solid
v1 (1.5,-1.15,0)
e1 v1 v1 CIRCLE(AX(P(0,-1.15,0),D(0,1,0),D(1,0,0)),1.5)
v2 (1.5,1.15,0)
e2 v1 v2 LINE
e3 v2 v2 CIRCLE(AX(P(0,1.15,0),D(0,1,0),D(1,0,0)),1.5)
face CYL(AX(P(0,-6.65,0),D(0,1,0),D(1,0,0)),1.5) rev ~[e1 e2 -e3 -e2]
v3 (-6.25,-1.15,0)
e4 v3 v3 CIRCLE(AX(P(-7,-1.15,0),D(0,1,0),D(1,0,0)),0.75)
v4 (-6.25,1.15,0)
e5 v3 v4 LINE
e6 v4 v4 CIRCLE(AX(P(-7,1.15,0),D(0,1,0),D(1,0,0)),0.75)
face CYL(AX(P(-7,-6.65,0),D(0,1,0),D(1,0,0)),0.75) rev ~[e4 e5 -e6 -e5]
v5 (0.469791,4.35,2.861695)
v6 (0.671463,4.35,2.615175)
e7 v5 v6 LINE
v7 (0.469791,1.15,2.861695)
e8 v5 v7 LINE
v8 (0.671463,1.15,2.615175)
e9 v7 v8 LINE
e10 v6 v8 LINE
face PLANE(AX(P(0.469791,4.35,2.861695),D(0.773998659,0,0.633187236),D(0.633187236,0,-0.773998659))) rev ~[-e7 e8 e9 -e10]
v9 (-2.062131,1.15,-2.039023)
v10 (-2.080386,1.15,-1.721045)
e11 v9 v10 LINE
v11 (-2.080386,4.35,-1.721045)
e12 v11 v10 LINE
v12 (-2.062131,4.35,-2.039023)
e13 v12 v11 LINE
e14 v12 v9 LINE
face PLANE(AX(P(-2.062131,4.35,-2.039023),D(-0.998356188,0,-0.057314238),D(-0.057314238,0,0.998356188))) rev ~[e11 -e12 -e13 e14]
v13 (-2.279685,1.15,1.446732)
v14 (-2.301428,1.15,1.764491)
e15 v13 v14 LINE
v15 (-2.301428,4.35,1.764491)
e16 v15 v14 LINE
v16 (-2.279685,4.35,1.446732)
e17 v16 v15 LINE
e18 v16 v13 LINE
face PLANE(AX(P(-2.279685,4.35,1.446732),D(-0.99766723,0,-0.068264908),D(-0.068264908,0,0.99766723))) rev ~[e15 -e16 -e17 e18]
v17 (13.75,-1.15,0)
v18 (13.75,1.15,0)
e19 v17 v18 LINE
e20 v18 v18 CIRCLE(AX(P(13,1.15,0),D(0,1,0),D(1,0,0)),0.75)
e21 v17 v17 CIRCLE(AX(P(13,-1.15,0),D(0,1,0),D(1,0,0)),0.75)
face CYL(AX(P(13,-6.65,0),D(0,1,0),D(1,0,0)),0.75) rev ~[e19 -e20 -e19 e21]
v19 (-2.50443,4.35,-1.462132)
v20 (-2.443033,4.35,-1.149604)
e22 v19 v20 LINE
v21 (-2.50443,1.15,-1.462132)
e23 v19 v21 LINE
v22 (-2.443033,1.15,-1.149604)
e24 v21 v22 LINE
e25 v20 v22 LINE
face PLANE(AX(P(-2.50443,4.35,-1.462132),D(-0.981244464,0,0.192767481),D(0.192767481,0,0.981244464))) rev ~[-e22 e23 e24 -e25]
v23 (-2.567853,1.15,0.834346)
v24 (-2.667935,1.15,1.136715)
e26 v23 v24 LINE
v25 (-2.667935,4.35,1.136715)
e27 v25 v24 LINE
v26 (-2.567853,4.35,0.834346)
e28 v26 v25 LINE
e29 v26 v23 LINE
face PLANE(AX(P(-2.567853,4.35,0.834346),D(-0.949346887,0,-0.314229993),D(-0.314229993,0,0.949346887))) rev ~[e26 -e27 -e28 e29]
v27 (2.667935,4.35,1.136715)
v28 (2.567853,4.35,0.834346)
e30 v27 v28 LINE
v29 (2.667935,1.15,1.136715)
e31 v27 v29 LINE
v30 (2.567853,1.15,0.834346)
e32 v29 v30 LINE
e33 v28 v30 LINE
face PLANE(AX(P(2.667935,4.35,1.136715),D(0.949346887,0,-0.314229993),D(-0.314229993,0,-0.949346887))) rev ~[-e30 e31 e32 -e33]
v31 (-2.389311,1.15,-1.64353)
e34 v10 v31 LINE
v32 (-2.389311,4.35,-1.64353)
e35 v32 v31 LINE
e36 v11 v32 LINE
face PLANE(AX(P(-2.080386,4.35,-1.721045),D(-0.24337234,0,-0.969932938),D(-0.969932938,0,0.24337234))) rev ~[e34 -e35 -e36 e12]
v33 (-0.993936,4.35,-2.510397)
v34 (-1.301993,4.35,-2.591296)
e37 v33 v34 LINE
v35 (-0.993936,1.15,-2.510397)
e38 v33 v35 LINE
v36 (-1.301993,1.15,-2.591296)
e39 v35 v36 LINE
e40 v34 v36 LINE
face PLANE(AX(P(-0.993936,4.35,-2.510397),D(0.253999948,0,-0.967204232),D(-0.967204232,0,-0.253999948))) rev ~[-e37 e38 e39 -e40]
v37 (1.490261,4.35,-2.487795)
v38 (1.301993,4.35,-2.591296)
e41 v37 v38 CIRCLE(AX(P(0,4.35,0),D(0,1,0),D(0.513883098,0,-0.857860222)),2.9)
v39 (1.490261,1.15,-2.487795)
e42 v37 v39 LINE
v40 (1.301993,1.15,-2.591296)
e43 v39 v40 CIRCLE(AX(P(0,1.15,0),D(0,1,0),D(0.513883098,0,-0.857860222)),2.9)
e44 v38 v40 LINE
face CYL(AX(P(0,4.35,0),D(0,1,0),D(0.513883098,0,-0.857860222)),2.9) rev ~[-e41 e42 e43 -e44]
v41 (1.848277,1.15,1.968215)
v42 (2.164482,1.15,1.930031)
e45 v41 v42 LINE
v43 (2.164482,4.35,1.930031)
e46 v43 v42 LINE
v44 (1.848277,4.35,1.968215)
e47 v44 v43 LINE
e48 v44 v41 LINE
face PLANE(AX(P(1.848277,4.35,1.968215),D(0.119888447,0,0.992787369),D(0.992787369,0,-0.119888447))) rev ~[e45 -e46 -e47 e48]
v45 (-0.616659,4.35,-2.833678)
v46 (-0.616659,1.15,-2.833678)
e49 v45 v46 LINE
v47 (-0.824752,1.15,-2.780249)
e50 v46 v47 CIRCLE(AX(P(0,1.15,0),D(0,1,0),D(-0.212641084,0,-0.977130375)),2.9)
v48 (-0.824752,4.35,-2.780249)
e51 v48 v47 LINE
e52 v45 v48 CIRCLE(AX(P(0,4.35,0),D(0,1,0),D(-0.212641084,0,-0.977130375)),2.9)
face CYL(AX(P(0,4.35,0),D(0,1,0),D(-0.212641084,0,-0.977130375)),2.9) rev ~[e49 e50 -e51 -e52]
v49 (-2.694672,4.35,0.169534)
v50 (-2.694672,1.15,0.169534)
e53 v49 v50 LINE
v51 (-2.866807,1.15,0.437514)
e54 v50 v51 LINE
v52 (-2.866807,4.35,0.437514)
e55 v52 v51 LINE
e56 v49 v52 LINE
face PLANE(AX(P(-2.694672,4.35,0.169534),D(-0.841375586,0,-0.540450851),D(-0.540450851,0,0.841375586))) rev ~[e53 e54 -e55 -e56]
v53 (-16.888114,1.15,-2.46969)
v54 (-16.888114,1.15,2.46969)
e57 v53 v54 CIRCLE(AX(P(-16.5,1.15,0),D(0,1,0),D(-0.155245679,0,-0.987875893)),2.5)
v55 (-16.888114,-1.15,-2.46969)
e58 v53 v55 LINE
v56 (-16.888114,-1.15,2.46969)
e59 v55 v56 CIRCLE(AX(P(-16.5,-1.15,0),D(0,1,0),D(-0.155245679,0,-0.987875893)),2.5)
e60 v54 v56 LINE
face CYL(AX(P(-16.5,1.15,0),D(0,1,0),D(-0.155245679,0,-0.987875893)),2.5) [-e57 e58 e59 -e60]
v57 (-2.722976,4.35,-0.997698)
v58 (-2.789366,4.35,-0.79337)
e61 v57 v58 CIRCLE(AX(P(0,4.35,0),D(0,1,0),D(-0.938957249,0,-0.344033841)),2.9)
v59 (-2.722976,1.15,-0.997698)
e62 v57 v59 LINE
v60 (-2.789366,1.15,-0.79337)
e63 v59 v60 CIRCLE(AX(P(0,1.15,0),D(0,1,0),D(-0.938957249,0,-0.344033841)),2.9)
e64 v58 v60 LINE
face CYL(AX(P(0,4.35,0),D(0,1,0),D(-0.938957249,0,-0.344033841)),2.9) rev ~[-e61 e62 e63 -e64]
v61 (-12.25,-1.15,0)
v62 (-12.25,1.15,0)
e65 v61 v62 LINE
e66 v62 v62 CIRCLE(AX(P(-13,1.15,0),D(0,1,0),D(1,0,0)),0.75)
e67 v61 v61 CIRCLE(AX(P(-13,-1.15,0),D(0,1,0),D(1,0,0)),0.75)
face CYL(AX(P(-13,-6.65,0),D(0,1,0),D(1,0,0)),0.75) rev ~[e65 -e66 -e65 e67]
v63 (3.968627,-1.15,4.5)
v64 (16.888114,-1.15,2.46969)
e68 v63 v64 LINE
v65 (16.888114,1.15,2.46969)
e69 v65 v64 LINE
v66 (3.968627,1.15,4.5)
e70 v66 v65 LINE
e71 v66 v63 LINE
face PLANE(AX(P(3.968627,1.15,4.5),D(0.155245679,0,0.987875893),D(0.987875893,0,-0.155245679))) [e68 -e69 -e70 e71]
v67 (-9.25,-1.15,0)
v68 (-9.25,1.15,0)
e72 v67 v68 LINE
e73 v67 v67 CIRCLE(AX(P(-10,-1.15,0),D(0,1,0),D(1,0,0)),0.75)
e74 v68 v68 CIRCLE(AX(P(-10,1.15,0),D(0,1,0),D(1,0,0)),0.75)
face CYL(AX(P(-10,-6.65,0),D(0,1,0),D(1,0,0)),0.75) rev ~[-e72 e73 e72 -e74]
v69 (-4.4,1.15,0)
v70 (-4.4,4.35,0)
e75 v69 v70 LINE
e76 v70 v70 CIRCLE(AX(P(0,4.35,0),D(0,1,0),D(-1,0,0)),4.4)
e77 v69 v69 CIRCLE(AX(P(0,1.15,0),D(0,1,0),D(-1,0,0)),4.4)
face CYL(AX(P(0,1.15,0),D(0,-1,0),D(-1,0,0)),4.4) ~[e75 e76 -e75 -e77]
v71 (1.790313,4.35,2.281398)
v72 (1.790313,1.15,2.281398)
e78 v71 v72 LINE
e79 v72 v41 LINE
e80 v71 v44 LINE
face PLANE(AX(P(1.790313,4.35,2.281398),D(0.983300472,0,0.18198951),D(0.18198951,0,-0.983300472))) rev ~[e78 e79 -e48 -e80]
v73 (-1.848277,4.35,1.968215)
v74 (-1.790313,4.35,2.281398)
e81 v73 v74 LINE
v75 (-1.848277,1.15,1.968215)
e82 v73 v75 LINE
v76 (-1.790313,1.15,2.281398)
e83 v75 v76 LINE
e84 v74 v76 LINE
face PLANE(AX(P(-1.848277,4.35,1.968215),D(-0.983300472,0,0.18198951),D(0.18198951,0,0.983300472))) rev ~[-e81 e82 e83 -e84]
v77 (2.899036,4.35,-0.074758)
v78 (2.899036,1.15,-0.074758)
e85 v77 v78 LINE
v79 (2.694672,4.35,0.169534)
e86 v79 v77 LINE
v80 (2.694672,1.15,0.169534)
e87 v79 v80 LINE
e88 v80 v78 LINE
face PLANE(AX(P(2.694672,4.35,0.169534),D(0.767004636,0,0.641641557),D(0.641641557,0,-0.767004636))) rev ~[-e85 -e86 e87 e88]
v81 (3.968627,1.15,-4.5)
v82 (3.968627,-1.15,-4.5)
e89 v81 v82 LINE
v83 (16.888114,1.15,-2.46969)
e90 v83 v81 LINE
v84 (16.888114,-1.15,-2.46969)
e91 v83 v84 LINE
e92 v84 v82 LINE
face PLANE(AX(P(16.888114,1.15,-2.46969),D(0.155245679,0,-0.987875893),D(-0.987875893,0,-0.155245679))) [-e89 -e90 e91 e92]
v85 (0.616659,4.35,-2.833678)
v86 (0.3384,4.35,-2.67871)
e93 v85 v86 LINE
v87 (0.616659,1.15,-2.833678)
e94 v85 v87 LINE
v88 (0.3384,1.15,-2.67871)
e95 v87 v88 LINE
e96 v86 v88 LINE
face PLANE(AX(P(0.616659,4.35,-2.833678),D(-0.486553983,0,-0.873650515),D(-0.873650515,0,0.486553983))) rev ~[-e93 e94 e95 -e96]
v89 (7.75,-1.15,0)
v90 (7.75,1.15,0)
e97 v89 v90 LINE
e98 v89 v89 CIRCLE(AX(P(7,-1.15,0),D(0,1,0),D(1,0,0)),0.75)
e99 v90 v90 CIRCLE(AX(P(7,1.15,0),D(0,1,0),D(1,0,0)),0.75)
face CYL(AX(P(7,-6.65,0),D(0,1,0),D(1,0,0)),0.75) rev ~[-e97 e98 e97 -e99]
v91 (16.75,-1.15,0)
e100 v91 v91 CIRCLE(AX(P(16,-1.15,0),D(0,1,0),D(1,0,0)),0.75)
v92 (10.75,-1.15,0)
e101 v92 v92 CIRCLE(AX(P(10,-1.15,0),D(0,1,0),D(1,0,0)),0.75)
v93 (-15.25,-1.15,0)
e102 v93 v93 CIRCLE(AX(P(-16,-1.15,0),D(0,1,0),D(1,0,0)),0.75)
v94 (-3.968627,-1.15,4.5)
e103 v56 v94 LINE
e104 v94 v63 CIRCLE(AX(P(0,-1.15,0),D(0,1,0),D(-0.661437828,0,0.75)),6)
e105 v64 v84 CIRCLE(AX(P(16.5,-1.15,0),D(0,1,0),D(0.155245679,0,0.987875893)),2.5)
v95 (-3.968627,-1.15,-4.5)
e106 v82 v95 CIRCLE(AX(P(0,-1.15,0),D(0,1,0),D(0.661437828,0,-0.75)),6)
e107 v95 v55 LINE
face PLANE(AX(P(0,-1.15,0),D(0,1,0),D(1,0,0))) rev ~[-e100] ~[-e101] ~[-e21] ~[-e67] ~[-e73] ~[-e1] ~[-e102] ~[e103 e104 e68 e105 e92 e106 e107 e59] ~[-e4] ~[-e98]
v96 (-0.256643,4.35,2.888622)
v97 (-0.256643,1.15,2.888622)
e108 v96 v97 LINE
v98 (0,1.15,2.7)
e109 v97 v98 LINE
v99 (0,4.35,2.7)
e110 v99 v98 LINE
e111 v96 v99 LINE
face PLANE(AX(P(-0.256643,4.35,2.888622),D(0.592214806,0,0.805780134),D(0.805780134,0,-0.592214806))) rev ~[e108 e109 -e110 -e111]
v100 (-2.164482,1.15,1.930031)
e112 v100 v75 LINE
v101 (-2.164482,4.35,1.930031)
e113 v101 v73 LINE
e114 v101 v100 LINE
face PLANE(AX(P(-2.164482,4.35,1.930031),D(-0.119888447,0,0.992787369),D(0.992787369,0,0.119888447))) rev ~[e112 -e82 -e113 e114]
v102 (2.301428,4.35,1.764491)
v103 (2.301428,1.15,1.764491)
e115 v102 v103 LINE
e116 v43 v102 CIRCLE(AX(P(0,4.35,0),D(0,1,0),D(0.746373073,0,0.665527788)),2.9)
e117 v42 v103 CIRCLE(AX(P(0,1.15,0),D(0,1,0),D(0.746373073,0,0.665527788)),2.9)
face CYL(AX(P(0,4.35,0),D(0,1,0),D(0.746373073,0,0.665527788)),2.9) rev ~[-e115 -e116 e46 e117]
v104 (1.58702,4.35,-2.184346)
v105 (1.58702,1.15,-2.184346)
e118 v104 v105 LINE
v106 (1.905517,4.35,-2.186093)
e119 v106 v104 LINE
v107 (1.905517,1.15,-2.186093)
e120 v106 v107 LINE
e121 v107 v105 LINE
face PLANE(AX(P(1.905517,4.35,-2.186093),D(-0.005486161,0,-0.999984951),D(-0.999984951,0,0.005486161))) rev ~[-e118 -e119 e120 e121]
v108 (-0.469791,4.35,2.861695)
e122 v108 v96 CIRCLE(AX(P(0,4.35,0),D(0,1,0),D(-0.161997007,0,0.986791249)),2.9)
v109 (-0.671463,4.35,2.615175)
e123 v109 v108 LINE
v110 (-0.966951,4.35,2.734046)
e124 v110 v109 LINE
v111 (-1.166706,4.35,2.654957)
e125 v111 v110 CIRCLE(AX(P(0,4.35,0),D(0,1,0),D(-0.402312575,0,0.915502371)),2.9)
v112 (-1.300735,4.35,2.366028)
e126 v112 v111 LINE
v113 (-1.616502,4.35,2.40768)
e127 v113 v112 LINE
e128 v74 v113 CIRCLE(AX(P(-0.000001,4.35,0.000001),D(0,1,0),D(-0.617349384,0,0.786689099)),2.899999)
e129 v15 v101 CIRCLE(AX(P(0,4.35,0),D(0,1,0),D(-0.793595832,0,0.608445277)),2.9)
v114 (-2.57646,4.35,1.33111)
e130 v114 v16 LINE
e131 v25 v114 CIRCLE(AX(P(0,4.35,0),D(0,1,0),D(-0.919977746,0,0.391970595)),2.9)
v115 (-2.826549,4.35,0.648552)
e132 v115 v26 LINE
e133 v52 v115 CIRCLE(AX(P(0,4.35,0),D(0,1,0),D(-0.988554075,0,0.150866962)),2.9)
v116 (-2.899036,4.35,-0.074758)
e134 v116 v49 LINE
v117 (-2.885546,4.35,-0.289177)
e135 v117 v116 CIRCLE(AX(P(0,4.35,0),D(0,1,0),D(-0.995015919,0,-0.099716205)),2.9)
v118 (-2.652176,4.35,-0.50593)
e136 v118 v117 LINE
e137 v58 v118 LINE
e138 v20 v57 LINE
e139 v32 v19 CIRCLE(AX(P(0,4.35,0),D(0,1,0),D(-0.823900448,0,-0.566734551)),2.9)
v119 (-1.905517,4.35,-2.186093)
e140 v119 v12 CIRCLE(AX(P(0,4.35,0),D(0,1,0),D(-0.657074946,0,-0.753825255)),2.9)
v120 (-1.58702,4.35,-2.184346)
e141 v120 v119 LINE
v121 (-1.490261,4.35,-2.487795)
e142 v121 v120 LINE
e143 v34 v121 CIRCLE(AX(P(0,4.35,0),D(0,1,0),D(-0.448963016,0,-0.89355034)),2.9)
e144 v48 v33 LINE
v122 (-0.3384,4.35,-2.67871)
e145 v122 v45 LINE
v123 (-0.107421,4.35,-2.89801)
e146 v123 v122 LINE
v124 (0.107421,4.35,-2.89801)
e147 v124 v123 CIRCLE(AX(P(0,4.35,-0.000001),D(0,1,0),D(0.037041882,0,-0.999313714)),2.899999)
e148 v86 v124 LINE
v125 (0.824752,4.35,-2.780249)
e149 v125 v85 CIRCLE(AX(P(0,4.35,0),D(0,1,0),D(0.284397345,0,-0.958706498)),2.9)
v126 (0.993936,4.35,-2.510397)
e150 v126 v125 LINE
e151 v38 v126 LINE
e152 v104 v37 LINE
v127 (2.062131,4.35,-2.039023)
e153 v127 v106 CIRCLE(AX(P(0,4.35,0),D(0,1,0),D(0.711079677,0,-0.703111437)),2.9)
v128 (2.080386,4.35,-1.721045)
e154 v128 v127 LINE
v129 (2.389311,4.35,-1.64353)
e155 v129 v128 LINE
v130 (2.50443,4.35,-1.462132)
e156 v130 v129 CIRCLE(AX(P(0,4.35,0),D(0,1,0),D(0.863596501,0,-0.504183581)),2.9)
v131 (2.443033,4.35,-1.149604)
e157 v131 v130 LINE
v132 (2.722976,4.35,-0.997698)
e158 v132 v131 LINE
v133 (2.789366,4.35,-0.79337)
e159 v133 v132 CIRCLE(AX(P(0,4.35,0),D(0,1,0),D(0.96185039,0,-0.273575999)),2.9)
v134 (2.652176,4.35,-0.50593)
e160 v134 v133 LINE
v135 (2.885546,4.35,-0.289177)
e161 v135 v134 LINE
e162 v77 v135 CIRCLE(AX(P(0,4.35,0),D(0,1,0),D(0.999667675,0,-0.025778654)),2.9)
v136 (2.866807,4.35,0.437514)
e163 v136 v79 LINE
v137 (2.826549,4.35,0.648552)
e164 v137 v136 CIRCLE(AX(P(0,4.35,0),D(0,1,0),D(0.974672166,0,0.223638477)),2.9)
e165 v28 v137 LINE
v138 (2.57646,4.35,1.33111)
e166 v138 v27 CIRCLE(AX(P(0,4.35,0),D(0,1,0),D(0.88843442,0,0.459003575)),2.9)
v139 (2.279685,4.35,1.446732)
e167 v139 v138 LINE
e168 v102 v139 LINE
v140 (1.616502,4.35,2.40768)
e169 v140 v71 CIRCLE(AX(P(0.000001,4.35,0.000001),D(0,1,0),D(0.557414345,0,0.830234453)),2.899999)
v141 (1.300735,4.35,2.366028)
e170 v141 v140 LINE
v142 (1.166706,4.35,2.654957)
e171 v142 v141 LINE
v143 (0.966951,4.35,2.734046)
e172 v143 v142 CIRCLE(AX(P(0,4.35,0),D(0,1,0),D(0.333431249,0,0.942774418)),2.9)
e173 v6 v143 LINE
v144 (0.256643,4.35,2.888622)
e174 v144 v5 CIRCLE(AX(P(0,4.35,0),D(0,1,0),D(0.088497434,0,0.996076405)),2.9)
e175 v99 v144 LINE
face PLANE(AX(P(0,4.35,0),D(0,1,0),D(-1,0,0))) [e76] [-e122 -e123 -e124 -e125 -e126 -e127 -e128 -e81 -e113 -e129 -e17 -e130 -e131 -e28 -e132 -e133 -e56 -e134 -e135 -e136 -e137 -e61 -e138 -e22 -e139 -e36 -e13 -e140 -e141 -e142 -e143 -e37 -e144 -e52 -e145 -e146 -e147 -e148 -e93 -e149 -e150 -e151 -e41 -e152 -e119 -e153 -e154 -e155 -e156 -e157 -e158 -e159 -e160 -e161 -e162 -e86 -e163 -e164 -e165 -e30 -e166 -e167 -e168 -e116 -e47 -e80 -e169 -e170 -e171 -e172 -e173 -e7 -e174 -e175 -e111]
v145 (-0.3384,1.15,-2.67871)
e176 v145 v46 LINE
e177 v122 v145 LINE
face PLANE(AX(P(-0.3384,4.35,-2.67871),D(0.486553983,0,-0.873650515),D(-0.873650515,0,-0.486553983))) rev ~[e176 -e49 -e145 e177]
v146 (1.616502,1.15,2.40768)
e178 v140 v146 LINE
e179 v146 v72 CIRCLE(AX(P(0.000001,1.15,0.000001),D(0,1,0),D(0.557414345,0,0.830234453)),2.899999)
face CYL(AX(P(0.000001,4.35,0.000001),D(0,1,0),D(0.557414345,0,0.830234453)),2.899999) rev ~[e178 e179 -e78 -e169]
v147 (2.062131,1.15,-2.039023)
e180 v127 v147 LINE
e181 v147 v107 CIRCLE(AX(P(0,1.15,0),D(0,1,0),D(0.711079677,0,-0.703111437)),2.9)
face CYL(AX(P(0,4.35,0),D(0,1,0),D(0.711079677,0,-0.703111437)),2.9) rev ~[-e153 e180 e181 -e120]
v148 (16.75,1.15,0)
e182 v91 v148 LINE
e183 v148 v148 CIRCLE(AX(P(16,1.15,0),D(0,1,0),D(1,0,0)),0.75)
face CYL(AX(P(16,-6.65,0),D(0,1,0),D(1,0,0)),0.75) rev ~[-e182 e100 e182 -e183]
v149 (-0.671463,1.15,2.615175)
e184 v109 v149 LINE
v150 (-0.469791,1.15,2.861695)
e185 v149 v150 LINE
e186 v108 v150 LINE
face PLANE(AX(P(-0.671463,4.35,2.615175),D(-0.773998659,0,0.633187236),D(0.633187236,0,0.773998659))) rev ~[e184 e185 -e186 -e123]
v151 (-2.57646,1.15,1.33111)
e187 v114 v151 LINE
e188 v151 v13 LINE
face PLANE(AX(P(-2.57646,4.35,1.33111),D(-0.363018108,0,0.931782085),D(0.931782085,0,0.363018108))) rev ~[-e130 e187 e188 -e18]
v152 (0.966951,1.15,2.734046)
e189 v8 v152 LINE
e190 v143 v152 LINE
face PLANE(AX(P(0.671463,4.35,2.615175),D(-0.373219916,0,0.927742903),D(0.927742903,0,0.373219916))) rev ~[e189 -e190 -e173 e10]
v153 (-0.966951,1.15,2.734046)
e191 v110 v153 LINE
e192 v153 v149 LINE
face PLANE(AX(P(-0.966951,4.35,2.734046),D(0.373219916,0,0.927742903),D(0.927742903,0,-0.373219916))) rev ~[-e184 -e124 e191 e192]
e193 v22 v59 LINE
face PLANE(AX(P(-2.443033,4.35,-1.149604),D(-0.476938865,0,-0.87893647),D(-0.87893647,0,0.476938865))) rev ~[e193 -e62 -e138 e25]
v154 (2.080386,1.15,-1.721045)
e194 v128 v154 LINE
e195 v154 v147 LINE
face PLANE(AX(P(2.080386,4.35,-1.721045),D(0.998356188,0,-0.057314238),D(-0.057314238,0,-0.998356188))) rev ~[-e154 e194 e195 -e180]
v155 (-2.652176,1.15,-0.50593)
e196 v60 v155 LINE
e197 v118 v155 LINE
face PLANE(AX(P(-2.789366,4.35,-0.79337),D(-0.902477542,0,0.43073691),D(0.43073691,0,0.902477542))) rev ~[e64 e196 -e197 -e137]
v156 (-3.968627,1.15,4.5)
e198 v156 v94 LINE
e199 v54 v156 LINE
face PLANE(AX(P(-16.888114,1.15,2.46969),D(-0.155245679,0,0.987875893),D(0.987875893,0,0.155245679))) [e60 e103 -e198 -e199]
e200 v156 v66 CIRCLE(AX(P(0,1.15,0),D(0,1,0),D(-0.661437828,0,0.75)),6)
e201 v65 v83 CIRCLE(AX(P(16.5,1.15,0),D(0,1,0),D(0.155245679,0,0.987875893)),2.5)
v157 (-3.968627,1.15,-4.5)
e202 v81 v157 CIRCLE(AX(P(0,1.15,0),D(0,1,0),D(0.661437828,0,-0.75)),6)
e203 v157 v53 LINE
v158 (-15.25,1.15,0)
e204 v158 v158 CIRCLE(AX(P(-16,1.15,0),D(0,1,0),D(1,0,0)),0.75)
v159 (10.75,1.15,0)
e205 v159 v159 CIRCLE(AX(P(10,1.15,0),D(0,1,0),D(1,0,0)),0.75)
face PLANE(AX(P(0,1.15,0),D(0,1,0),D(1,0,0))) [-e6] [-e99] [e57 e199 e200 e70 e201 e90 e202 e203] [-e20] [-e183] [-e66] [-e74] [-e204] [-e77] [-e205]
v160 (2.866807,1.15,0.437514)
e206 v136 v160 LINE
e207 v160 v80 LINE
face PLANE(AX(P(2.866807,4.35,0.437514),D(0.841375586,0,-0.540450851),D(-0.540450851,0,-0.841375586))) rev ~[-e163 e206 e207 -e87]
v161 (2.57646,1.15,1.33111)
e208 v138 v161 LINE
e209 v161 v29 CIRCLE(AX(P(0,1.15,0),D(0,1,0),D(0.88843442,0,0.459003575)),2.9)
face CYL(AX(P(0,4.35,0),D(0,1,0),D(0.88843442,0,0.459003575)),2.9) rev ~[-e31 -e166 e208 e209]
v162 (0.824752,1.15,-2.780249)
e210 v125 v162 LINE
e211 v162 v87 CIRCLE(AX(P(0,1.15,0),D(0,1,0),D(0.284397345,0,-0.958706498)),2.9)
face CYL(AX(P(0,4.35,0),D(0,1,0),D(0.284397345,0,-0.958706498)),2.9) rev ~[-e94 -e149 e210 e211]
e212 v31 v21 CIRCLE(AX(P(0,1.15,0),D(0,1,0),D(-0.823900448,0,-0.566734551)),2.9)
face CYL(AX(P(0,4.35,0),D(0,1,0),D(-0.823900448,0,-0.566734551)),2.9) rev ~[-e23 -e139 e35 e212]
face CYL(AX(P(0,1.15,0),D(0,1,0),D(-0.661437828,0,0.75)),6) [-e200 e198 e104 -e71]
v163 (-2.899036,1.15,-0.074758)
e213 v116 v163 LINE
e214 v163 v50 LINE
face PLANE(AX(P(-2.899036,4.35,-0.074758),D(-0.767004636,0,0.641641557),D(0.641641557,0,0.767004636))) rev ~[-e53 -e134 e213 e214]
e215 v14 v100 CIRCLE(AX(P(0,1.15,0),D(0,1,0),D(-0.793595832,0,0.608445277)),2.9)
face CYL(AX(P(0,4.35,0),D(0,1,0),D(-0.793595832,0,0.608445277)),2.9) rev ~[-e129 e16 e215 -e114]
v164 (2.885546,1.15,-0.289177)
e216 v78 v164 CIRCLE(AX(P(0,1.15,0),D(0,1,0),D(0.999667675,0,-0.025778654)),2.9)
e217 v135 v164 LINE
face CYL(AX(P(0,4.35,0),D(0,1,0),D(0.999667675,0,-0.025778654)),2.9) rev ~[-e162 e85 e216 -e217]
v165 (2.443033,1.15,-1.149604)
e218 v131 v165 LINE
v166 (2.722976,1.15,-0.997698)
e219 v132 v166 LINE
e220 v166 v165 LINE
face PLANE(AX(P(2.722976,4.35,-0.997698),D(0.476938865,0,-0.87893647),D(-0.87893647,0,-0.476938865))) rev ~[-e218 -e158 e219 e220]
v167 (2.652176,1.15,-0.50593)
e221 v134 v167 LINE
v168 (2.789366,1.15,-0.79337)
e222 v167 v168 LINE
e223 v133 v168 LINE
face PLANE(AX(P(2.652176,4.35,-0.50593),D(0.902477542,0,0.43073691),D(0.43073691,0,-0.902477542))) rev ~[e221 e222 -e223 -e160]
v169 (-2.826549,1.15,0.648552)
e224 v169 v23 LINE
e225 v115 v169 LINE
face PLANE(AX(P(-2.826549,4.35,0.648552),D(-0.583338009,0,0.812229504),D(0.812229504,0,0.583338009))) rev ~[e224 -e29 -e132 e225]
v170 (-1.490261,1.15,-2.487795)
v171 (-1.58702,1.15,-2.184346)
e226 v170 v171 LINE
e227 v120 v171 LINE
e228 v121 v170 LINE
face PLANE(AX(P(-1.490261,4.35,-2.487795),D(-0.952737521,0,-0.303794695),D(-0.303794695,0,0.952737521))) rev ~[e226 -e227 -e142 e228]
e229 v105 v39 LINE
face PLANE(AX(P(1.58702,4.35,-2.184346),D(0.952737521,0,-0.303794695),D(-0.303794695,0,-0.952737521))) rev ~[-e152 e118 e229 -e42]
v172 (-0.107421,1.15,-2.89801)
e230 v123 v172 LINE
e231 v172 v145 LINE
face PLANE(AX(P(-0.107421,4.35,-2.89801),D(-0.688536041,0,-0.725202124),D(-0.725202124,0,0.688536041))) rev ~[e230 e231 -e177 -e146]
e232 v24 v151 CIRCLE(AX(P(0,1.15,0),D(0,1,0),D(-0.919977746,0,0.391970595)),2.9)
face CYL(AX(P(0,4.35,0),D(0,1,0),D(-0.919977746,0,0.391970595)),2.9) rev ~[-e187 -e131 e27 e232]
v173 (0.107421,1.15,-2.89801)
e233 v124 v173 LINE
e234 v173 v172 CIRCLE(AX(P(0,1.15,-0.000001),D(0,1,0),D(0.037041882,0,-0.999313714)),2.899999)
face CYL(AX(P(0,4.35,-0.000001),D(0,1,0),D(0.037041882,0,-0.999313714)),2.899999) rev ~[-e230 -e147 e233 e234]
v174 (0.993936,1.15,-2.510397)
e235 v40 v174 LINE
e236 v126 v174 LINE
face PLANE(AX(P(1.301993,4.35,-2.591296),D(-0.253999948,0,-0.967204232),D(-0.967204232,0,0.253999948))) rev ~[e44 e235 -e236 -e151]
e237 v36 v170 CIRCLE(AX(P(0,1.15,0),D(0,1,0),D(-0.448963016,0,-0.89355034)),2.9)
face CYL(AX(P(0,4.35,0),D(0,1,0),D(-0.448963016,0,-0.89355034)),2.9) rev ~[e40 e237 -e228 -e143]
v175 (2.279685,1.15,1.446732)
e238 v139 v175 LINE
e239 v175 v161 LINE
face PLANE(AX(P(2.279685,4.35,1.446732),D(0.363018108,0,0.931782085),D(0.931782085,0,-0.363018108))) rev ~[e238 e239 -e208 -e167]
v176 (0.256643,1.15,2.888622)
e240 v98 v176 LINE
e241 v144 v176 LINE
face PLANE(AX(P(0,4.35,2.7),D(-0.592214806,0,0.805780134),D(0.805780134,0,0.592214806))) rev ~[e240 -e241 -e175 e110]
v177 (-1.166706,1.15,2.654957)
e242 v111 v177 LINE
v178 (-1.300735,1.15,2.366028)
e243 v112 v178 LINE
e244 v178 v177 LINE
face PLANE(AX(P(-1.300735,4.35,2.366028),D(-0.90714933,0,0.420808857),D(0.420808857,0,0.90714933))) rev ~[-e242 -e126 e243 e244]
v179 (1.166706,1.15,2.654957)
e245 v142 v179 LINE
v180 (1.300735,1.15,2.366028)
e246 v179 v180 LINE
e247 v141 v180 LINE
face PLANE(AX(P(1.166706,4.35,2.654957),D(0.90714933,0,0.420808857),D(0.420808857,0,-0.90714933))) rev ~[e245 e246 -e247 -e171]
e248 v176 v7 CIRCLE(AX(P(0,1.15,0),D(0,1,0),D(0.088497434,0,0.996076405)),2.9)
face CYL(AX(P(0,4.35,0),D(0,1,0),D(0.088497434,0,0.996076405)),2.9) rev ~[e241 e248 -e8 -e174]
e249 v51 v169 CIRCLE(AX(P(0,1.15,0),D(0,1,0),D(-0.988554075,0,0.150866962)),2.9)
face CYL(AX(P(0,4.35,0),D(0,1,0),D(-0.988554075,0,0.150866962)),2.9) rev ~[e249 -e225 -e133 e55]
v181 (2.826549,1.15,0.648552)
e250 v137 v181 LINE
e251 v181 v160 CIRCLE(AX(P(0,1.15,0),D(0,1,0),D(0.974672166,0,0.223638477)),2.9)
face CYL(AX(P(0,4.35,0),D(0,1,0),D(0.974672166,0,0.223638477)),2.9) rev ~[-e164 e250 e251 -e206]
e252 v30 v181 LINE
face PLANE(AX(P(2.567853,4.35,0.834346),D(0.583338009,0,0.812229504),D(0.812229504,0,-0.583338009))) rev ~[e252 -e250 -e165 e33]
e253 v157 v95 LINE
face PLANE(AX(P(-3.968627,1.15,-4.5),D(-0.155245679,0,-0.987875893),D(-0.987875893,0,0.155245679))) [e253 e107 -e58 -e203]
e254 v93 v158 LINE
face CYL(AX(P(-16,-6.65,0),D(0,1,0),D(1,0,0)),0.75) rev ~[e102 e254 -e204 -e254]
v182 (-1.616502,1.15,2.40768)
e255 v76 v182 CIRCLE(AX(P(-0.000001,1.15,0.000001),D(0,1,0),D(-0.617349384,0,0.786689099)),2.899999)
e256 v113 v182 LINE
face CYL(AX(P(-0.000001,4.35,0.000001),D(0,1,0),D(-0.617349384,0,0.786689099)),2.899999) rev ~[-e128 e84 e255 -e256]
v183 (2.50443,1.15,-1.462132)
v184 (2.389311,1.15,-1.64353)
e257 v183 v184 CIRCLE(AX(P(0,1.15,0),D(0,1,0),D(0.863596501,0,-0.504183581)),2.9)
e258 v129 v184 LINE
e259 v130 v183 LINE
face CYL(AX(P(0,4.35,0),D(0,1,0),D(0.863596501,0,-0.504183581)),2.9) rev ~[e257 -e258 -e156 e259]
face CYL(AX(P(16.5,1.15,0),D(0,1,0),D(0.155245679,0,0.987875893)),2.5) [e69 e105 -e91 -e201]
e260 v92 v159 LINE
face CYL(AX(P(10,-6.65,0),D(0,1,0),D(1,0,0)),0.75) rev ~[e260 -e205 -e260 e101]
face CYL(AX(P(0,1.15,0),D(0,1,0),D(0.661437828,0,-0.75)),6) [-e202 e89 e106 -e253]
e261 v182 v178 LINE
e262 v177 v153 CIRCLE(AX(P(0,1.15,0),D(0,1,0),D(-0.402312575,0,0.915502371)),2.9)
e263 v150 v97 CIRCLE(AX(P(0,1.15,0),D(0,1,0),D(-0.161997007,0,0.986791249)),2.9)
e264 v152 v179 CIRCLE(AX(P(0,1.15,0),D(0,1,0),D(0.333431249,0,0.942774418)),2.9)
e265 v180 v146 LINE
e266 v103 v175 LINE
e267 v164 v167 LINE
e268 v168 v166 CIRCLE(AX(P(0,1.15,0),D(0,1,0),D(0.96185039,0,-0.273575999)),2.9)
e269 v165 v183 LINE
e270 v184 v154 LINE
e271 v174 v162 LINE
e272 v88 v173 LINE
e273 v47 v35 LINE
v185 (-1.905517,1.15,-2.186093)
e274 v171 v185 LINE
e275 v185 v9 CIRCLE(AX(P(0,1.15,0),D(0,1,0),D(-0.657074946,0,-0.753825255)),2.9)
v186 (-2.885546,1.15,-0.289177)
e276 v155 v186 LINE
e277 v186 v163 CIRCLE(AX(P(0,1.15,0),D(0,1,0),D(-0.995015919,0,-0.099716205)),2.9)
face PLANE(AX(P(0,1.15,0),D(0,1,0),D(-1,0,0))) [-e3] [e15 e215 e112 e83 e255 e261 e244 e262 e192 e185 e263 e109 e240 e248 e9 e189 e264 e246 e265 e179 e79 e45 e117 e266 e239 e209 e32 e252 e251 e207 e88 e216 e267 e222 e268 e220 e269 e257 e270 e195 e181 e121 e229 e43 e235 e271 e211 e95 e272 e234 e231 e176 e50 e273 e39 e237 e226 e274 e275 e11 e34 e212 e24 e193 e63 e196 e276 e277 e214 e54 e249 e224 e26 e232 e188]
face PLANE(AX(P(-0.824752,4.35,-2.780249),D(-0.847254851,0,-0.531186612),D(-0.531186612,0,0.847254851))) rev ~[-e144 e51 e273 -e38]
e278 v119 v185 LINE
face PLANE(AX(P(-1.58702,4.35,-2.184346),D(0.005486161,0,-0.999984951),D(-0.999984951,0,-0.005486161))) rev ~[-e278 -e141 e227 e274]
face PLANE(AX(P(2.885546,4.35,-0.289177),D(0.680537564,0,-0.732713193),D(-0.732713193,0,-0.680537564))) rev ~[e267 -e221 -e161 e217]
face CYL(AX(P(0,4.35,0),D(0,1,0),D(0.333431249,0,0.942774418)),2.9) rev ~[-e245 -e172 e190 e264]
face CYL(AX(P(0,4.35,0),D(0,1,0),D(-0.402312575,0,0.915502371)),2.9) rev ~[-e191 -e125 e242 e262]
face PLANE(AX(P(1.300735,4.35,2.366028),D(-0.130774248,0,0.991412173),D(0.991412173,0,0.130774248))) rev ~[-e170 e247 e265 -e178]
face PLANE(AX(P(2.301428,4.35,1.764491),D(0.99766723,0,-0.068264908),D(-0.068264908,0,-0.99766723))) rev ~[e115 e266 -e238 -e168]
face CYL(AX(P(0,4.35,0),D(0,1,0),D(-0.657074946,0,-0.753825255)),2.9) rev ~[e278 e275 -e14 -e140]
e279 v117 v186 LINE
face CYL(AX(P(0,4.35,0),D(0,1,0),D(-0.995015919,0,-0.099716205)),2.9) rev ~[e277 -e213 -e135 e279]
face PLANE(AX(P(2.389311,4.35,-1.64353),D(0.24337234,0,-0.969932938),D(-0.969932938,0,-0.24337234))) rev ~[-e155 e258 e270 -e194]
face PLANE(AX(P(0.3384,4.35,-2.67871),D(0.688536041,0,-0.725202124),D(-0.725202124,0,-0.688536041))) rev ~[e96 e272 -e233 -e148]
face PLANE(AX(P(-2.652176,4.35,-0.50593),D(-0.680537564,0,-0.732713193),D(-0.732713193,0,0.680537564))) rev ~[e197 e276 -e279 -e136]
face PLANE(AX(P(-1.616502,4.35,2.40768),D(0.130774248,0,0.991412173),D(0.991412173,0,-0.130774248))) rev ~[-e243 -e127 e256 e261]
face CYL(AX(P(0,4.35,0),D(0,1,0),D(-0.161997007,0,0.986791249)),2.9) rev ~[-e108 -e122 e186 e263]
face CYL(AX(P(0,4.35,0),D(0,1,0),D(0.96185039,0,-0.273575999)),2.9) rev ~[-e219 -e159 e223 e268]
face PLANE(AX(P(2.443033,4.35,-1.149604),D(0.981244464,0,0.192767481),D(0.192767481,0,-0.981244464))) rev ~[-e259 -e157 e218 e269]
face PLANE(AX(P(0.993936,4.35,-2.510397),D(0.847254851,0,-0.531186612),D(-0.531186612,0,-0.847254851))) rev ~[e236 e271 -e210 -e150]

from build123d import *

# Parameters (mm, degrees)
BOSS_EXTRUDE1_DEPTH            = 2.3
SKETCH2_R                      = 4.4
BOSS_EXTRUDE2_DEPTH            = 3.2
CUT_EXTRUDE1_DEPTH             = 3.2
F_1_5_1_5_DIAMETER_HOLE1_D     = 1.5
F_1_5_1_5_DIAMETER_HOLE1_DEPTH = 5.5
F_3_0_3_DIAMETER_HOLE1_D       = 3
F_3_0_3_DIAMETER_HOLE1_DEPTH   = 5.5


with BuildPart() as part:
    # Sketch1 → Boss-Extrude1 (new body)
    with BuildSketch(Plane(origin=(0, 1.15, 0), x_dir=(1, 0, 0), z_dir=(0, 1, 0))):
        with BuildLine():
            Line((-3.968626967, 4.5), (-16.888114198, 2.469689731))
            ThreePointArc((-16.888114198, 2.469689731), (-19, 0), (-16.888114198, -2.469689731))
            Line((-16.888114198, -2.469689731), (-3.968626967, -4.5))
            ThreePointArc((-3.968626967, -4.5), (0, -6), (3.968626967, -4.5))
            Line((3.968626967, -4.5), (16.888114198, -2.469689731))
            ThreePointArc((16.888114198, -2.469689731), (19, 0), (16.888114198, 2.469689731))
            Line((16.888114198, 2.469689731), (3.968626967, 4.5))
            ThreePointArc((3.968626967, 4.5), (0, 6), (-3.968626967, 4.5))
        make_face()
    extrude(amount=-BOSS_EXTRUDE1_DEPTH)

    # Sketch2 → Boss-Extrude2 (add)
    with BuildSketch(Plane(origin=(0, 1.15, 0), x_dir=(-1, 0, 0), z_dir=(0, 1, 0))):
        Circle(SKETCH2_R)
    extrude(amount=BOSS_EXTRUDE2_DEPTH)

    # Sketch3 → Cut-Extrude1 (cut)
    with BuildSketch(Plane(origin=(0, 4.35, 0), x_dir=(-1, 0, 0), z_dir=(0, 1, 0))):
        with BuildLine():
            Line((-0.61665913, -2.83367809), (-0.338399731, -2.678709694))
            Line((-0.338399731, -2.678709694), (-0.107421435, -2.898009771))
            ThreePointArc((-0.107421435, -2.898009771), (0, -2.9), (0.107421435, -2.898009771))
            Line((0.107421435, -2.898009771), (0.338399731, -2.678709694))
            Line((0.338399731, -2.678709694), (0.61665913, -2.83367809))
            ThreePointArc((0.61665913, -2.83367809), (0.721200673, -2.808891167), (0.824752316, -2.780248841))
            Line((0.824752316, -2.780248841), (0.993936292, -2.510396512))
            Line((0.993936292, -2.510396512), (1.301992734, -2.591295993))
            ThreePointArc((1.301992734, -2.591295993), (1.397085655, -2.541289372), (1.490260976, -2.48779465))
            Line((1.490260976, -2.48779465), (1.587020181, -2.184345885))
            Line((1.587020181, -2.184345885), (1.905517346, -2.186093238))
            ThreePointArc((1.905517346, -2.186093238), (1.985186607, -2.11400902), (2.062131058, -2.039023173))
            Line((2.062131058, -2.039023173), (2.080385755, -1.721044772))
            Line((2.080385755, -1.721044772), (2.389311295, -1.643530205))
            ThreePointArc((2.389311295, -1.643530205), (2.448550984, -1.553897705), (2.504429862, -1.46213237))
            Line((2.504429862, -1.46213237), (2.443033042, -1.149604087))
            Line((2.443033042, -1.149604087), (2.722976028, -0.997698125))
            ThreePointArc((2.722976028, -0.997698125), (2.758063897, -0.896149284), (2.789366126, -0.793370413))
            Line((2.789366126, -0.793370413), (2.652175577, -0.505929549))
            Line((2.652175577, -0.505929549), (2.885546163, -0.289177003))
            ThreePointArc((2.885546163, -0.289177003), (2.894277512, -0.182092507), (2.899036259, -0.074758075))
            Line((2.899036259, -0.074758075), (2.694672167, 0.169534403))
            Line((2.694672167, 0.169534403), (2.866806821, 0.437514174))
            ThreePointArc((2.866806821, 0.437514174), (2.848633027, 0.543405812), (2.826549281, 0.648551587))
            Line((2.826549281, 0.648551587), (2.567852594, 0.834345885))
            Line((2.567852594, 0.834345885), (2.667935462, 1.136714727))
            ThreePointArc((2.667935462, 1.136714727), (2.623998452, 1.234759946), (2.576459817, 1.331110368))
            Line((2.576459817, 1.331110368), (2.279685399, 1.446732346))
            Line((2.279685399, 1.446732346), (2.301427906, 1.764491312))
            ThreePointArc((2.301427906, 1.764491312), (2.234488404, 1.84852957), (2.164481907, 1.930030589))
            Line((2.164481907, 1.930030589), (1.848277186, 1.968215294))
            Line((1.848277186, 1.968215294), (1.790313171, 2.281398419))
            ThreePointArc((1.790313171, 2.281398419), (1.704577232, 2.346149284), (1.616501638, 2.40767989))
            Line((1.616501638, 2.40767989), (1.30073492, 2.366028036))
            Line((1.30073492, 2.366028036), (1.166706475, 2.654956874))
            ThreePointArc((1.166706475, 2.654956874), (1.067561203, 2.696351809), (0.966950626, 2.734045809))
            Line((0.966950626, 2.734045809), (0.671462695, 2.615174535))
            Line((0.671462695, 2.615174535), (0.469791321, 2.861694623))
            ThreePointArc((0.469791321, 2.861694623), (0.363466377, 2.877132634), (0.25664255, 2.888621575))
            Line((0.25664255, 2.888621575), (0, 2.7))
            Line((0, 2.7), (-0.25664255, 2.888621575))
            ThreePointArc((-0.25664255, 2.888621575), (-0.363466377, 2.877132634), (-0.469791321, 2.861694623))
            Line((-0.469791321, 2.861694623), (-0.671462695, 2.615174535))
            Line((-0.671462695, 2.615174535), (-0.966950626, 2.734045809))
            ThreePointArc((-0.966950626, 2.734045809), (-1.067561203, 2.696351809), (-1.166706475, 2.654956874))
            Line((-1.166706475, 2.654956874), (-1.30073492, 2.366028036))
            Line((-1.30073492, 2.366028036), (-1.616501638, 2.40767989))
            ThreePointArc((-1.616501638, 2.40767989), (-1.704577232, 2.346149284), (-1.790313171, 2.281398419))
            Line((-1.790313171, 2.281398419), (-1.848277186, 1.968215294))
            Line((-1.848277186, 1.968215294), (-2.164481907, 1.930030589))
            ThreePointArc((-2.164481907, 1.930030589), (-2.234488404, 1.84852957), (-2.301427906, 1.764491312))
            Line((-2.301427906, 1.764491312), (-2.279685399, 1.446732346))
            Line((-2.279685399, 1.446732346), (-2.576459817, 1.331110368))
            ThreePointArc((-2.576459817, 1.331110368), (-2.623998452, 1.234759946), (-2.667935462, 1.136714727))
            Line((-2.667935462, 1.136714727), (-2.567852594, 0.834345885))
            Line((-2.567852594, 0.834345885), (-2.826549281, 0.648551587))
            ThreePointArc((-2.826549281, 0.648551587), (-2.848633027, 0.543405812), (-2.866806821, 0.437514174))
            Line((-2.866806821, 0.437514174), (-2.694672167, 0.169534403))
            Line((-2.694672167, 0.169534403), (-2.899036259, -0.074758075))
            ThreePointArc((-2.899036259, -0.074758075), (-2.894277512, -0.182092507), (-2.885546163, -0.289177003))
            Line((-2.885546163, -0.289177003), (-2.652175577, -0.505929549))
            Line((-2.652175577, -0.505929549), (-2.789366126, -0.793370413))
            ThreePointArc((-2.789366126, -0.793370413), (-2.758063897, -0.896149284), (-2.722976028, -0.997698125))
            Line((-2.722976028, -0.997698125), (-2.443033042, -1.149604087))
            Line((-2.443033042, -1.149604087), (-2.504429862, -1.46213237))
            ThreePointArc((-2.504429862, -1.46213237), (-2.448550984, -1.553897705), (-2.389311295, -1.643530205))
            Line((-2.389311295, -1.643530205), (-2.080385755, -1.721044772))
            Line((-2.080385755, -1.721044772), (-2.062131058, -2.039023173))
            ThreePointArc((-2.062131058, -2.039023173), (-1.985186607, -2.11400902), (-1.905517346, -2.186093238))
            Line((-1.905517346, -2.186093238), (-1.587020181, -2.184345885))
            Line((-1.587020181, -2.184345885), (-1.490260976, -2.48779465))
            ThreePointArc((-1.490260976, -2.48779465), (-1.397085655, -2.541289372), (-1.301992734, -2.591295993))
            Line((-1.301992734, -2.591295993), (-0.993936292, -2.510396512))
            Line((-0.993936292, -2.510396512), (-0.824752316, -2.780248841))
            ThreePointArc((-0.824752316, -2.780248841), (-0.721200673, -2.808891167), (-0.61665913, -2.83367809))
        make_face()
    extrude(amount=-CUT_EXTRUDE1_DEPTH, mode=Mode.SUBTRACT)

    # Ø1.5 (1.5) Diameter Hole1
    with Locations(Plane(origin=(0, -1.15, 0), x_dir=(-1, 0, 0), z_dir=(0, -1, 0))):
        with Locations((-7, 0), (-16, 0), (-13, 0), (-10, 0), (7, 0), (16, 0), (13, 0), (10, 0)):
            Hole(F_1_5_1_5_DIAMETER_HOLE1_D / 2, depth=F_1_5_1_5_DIAMETER_HOLE1_DEPTH)

    # Ø3.0 (3) Diameter Hole1
    with Locations(Plane(origin=(0, -1.15, 0), x_dir=(-1, 0, 0), z_dir=(0, -1, 0))):
        with Locations((0, 0)):
            Hole(F_3_0_3_DIAMETER_HOLE1_D / 2, depth=F_3_0_3_DIAMETER_HOLE1_DEPTH)


solid = part.part
